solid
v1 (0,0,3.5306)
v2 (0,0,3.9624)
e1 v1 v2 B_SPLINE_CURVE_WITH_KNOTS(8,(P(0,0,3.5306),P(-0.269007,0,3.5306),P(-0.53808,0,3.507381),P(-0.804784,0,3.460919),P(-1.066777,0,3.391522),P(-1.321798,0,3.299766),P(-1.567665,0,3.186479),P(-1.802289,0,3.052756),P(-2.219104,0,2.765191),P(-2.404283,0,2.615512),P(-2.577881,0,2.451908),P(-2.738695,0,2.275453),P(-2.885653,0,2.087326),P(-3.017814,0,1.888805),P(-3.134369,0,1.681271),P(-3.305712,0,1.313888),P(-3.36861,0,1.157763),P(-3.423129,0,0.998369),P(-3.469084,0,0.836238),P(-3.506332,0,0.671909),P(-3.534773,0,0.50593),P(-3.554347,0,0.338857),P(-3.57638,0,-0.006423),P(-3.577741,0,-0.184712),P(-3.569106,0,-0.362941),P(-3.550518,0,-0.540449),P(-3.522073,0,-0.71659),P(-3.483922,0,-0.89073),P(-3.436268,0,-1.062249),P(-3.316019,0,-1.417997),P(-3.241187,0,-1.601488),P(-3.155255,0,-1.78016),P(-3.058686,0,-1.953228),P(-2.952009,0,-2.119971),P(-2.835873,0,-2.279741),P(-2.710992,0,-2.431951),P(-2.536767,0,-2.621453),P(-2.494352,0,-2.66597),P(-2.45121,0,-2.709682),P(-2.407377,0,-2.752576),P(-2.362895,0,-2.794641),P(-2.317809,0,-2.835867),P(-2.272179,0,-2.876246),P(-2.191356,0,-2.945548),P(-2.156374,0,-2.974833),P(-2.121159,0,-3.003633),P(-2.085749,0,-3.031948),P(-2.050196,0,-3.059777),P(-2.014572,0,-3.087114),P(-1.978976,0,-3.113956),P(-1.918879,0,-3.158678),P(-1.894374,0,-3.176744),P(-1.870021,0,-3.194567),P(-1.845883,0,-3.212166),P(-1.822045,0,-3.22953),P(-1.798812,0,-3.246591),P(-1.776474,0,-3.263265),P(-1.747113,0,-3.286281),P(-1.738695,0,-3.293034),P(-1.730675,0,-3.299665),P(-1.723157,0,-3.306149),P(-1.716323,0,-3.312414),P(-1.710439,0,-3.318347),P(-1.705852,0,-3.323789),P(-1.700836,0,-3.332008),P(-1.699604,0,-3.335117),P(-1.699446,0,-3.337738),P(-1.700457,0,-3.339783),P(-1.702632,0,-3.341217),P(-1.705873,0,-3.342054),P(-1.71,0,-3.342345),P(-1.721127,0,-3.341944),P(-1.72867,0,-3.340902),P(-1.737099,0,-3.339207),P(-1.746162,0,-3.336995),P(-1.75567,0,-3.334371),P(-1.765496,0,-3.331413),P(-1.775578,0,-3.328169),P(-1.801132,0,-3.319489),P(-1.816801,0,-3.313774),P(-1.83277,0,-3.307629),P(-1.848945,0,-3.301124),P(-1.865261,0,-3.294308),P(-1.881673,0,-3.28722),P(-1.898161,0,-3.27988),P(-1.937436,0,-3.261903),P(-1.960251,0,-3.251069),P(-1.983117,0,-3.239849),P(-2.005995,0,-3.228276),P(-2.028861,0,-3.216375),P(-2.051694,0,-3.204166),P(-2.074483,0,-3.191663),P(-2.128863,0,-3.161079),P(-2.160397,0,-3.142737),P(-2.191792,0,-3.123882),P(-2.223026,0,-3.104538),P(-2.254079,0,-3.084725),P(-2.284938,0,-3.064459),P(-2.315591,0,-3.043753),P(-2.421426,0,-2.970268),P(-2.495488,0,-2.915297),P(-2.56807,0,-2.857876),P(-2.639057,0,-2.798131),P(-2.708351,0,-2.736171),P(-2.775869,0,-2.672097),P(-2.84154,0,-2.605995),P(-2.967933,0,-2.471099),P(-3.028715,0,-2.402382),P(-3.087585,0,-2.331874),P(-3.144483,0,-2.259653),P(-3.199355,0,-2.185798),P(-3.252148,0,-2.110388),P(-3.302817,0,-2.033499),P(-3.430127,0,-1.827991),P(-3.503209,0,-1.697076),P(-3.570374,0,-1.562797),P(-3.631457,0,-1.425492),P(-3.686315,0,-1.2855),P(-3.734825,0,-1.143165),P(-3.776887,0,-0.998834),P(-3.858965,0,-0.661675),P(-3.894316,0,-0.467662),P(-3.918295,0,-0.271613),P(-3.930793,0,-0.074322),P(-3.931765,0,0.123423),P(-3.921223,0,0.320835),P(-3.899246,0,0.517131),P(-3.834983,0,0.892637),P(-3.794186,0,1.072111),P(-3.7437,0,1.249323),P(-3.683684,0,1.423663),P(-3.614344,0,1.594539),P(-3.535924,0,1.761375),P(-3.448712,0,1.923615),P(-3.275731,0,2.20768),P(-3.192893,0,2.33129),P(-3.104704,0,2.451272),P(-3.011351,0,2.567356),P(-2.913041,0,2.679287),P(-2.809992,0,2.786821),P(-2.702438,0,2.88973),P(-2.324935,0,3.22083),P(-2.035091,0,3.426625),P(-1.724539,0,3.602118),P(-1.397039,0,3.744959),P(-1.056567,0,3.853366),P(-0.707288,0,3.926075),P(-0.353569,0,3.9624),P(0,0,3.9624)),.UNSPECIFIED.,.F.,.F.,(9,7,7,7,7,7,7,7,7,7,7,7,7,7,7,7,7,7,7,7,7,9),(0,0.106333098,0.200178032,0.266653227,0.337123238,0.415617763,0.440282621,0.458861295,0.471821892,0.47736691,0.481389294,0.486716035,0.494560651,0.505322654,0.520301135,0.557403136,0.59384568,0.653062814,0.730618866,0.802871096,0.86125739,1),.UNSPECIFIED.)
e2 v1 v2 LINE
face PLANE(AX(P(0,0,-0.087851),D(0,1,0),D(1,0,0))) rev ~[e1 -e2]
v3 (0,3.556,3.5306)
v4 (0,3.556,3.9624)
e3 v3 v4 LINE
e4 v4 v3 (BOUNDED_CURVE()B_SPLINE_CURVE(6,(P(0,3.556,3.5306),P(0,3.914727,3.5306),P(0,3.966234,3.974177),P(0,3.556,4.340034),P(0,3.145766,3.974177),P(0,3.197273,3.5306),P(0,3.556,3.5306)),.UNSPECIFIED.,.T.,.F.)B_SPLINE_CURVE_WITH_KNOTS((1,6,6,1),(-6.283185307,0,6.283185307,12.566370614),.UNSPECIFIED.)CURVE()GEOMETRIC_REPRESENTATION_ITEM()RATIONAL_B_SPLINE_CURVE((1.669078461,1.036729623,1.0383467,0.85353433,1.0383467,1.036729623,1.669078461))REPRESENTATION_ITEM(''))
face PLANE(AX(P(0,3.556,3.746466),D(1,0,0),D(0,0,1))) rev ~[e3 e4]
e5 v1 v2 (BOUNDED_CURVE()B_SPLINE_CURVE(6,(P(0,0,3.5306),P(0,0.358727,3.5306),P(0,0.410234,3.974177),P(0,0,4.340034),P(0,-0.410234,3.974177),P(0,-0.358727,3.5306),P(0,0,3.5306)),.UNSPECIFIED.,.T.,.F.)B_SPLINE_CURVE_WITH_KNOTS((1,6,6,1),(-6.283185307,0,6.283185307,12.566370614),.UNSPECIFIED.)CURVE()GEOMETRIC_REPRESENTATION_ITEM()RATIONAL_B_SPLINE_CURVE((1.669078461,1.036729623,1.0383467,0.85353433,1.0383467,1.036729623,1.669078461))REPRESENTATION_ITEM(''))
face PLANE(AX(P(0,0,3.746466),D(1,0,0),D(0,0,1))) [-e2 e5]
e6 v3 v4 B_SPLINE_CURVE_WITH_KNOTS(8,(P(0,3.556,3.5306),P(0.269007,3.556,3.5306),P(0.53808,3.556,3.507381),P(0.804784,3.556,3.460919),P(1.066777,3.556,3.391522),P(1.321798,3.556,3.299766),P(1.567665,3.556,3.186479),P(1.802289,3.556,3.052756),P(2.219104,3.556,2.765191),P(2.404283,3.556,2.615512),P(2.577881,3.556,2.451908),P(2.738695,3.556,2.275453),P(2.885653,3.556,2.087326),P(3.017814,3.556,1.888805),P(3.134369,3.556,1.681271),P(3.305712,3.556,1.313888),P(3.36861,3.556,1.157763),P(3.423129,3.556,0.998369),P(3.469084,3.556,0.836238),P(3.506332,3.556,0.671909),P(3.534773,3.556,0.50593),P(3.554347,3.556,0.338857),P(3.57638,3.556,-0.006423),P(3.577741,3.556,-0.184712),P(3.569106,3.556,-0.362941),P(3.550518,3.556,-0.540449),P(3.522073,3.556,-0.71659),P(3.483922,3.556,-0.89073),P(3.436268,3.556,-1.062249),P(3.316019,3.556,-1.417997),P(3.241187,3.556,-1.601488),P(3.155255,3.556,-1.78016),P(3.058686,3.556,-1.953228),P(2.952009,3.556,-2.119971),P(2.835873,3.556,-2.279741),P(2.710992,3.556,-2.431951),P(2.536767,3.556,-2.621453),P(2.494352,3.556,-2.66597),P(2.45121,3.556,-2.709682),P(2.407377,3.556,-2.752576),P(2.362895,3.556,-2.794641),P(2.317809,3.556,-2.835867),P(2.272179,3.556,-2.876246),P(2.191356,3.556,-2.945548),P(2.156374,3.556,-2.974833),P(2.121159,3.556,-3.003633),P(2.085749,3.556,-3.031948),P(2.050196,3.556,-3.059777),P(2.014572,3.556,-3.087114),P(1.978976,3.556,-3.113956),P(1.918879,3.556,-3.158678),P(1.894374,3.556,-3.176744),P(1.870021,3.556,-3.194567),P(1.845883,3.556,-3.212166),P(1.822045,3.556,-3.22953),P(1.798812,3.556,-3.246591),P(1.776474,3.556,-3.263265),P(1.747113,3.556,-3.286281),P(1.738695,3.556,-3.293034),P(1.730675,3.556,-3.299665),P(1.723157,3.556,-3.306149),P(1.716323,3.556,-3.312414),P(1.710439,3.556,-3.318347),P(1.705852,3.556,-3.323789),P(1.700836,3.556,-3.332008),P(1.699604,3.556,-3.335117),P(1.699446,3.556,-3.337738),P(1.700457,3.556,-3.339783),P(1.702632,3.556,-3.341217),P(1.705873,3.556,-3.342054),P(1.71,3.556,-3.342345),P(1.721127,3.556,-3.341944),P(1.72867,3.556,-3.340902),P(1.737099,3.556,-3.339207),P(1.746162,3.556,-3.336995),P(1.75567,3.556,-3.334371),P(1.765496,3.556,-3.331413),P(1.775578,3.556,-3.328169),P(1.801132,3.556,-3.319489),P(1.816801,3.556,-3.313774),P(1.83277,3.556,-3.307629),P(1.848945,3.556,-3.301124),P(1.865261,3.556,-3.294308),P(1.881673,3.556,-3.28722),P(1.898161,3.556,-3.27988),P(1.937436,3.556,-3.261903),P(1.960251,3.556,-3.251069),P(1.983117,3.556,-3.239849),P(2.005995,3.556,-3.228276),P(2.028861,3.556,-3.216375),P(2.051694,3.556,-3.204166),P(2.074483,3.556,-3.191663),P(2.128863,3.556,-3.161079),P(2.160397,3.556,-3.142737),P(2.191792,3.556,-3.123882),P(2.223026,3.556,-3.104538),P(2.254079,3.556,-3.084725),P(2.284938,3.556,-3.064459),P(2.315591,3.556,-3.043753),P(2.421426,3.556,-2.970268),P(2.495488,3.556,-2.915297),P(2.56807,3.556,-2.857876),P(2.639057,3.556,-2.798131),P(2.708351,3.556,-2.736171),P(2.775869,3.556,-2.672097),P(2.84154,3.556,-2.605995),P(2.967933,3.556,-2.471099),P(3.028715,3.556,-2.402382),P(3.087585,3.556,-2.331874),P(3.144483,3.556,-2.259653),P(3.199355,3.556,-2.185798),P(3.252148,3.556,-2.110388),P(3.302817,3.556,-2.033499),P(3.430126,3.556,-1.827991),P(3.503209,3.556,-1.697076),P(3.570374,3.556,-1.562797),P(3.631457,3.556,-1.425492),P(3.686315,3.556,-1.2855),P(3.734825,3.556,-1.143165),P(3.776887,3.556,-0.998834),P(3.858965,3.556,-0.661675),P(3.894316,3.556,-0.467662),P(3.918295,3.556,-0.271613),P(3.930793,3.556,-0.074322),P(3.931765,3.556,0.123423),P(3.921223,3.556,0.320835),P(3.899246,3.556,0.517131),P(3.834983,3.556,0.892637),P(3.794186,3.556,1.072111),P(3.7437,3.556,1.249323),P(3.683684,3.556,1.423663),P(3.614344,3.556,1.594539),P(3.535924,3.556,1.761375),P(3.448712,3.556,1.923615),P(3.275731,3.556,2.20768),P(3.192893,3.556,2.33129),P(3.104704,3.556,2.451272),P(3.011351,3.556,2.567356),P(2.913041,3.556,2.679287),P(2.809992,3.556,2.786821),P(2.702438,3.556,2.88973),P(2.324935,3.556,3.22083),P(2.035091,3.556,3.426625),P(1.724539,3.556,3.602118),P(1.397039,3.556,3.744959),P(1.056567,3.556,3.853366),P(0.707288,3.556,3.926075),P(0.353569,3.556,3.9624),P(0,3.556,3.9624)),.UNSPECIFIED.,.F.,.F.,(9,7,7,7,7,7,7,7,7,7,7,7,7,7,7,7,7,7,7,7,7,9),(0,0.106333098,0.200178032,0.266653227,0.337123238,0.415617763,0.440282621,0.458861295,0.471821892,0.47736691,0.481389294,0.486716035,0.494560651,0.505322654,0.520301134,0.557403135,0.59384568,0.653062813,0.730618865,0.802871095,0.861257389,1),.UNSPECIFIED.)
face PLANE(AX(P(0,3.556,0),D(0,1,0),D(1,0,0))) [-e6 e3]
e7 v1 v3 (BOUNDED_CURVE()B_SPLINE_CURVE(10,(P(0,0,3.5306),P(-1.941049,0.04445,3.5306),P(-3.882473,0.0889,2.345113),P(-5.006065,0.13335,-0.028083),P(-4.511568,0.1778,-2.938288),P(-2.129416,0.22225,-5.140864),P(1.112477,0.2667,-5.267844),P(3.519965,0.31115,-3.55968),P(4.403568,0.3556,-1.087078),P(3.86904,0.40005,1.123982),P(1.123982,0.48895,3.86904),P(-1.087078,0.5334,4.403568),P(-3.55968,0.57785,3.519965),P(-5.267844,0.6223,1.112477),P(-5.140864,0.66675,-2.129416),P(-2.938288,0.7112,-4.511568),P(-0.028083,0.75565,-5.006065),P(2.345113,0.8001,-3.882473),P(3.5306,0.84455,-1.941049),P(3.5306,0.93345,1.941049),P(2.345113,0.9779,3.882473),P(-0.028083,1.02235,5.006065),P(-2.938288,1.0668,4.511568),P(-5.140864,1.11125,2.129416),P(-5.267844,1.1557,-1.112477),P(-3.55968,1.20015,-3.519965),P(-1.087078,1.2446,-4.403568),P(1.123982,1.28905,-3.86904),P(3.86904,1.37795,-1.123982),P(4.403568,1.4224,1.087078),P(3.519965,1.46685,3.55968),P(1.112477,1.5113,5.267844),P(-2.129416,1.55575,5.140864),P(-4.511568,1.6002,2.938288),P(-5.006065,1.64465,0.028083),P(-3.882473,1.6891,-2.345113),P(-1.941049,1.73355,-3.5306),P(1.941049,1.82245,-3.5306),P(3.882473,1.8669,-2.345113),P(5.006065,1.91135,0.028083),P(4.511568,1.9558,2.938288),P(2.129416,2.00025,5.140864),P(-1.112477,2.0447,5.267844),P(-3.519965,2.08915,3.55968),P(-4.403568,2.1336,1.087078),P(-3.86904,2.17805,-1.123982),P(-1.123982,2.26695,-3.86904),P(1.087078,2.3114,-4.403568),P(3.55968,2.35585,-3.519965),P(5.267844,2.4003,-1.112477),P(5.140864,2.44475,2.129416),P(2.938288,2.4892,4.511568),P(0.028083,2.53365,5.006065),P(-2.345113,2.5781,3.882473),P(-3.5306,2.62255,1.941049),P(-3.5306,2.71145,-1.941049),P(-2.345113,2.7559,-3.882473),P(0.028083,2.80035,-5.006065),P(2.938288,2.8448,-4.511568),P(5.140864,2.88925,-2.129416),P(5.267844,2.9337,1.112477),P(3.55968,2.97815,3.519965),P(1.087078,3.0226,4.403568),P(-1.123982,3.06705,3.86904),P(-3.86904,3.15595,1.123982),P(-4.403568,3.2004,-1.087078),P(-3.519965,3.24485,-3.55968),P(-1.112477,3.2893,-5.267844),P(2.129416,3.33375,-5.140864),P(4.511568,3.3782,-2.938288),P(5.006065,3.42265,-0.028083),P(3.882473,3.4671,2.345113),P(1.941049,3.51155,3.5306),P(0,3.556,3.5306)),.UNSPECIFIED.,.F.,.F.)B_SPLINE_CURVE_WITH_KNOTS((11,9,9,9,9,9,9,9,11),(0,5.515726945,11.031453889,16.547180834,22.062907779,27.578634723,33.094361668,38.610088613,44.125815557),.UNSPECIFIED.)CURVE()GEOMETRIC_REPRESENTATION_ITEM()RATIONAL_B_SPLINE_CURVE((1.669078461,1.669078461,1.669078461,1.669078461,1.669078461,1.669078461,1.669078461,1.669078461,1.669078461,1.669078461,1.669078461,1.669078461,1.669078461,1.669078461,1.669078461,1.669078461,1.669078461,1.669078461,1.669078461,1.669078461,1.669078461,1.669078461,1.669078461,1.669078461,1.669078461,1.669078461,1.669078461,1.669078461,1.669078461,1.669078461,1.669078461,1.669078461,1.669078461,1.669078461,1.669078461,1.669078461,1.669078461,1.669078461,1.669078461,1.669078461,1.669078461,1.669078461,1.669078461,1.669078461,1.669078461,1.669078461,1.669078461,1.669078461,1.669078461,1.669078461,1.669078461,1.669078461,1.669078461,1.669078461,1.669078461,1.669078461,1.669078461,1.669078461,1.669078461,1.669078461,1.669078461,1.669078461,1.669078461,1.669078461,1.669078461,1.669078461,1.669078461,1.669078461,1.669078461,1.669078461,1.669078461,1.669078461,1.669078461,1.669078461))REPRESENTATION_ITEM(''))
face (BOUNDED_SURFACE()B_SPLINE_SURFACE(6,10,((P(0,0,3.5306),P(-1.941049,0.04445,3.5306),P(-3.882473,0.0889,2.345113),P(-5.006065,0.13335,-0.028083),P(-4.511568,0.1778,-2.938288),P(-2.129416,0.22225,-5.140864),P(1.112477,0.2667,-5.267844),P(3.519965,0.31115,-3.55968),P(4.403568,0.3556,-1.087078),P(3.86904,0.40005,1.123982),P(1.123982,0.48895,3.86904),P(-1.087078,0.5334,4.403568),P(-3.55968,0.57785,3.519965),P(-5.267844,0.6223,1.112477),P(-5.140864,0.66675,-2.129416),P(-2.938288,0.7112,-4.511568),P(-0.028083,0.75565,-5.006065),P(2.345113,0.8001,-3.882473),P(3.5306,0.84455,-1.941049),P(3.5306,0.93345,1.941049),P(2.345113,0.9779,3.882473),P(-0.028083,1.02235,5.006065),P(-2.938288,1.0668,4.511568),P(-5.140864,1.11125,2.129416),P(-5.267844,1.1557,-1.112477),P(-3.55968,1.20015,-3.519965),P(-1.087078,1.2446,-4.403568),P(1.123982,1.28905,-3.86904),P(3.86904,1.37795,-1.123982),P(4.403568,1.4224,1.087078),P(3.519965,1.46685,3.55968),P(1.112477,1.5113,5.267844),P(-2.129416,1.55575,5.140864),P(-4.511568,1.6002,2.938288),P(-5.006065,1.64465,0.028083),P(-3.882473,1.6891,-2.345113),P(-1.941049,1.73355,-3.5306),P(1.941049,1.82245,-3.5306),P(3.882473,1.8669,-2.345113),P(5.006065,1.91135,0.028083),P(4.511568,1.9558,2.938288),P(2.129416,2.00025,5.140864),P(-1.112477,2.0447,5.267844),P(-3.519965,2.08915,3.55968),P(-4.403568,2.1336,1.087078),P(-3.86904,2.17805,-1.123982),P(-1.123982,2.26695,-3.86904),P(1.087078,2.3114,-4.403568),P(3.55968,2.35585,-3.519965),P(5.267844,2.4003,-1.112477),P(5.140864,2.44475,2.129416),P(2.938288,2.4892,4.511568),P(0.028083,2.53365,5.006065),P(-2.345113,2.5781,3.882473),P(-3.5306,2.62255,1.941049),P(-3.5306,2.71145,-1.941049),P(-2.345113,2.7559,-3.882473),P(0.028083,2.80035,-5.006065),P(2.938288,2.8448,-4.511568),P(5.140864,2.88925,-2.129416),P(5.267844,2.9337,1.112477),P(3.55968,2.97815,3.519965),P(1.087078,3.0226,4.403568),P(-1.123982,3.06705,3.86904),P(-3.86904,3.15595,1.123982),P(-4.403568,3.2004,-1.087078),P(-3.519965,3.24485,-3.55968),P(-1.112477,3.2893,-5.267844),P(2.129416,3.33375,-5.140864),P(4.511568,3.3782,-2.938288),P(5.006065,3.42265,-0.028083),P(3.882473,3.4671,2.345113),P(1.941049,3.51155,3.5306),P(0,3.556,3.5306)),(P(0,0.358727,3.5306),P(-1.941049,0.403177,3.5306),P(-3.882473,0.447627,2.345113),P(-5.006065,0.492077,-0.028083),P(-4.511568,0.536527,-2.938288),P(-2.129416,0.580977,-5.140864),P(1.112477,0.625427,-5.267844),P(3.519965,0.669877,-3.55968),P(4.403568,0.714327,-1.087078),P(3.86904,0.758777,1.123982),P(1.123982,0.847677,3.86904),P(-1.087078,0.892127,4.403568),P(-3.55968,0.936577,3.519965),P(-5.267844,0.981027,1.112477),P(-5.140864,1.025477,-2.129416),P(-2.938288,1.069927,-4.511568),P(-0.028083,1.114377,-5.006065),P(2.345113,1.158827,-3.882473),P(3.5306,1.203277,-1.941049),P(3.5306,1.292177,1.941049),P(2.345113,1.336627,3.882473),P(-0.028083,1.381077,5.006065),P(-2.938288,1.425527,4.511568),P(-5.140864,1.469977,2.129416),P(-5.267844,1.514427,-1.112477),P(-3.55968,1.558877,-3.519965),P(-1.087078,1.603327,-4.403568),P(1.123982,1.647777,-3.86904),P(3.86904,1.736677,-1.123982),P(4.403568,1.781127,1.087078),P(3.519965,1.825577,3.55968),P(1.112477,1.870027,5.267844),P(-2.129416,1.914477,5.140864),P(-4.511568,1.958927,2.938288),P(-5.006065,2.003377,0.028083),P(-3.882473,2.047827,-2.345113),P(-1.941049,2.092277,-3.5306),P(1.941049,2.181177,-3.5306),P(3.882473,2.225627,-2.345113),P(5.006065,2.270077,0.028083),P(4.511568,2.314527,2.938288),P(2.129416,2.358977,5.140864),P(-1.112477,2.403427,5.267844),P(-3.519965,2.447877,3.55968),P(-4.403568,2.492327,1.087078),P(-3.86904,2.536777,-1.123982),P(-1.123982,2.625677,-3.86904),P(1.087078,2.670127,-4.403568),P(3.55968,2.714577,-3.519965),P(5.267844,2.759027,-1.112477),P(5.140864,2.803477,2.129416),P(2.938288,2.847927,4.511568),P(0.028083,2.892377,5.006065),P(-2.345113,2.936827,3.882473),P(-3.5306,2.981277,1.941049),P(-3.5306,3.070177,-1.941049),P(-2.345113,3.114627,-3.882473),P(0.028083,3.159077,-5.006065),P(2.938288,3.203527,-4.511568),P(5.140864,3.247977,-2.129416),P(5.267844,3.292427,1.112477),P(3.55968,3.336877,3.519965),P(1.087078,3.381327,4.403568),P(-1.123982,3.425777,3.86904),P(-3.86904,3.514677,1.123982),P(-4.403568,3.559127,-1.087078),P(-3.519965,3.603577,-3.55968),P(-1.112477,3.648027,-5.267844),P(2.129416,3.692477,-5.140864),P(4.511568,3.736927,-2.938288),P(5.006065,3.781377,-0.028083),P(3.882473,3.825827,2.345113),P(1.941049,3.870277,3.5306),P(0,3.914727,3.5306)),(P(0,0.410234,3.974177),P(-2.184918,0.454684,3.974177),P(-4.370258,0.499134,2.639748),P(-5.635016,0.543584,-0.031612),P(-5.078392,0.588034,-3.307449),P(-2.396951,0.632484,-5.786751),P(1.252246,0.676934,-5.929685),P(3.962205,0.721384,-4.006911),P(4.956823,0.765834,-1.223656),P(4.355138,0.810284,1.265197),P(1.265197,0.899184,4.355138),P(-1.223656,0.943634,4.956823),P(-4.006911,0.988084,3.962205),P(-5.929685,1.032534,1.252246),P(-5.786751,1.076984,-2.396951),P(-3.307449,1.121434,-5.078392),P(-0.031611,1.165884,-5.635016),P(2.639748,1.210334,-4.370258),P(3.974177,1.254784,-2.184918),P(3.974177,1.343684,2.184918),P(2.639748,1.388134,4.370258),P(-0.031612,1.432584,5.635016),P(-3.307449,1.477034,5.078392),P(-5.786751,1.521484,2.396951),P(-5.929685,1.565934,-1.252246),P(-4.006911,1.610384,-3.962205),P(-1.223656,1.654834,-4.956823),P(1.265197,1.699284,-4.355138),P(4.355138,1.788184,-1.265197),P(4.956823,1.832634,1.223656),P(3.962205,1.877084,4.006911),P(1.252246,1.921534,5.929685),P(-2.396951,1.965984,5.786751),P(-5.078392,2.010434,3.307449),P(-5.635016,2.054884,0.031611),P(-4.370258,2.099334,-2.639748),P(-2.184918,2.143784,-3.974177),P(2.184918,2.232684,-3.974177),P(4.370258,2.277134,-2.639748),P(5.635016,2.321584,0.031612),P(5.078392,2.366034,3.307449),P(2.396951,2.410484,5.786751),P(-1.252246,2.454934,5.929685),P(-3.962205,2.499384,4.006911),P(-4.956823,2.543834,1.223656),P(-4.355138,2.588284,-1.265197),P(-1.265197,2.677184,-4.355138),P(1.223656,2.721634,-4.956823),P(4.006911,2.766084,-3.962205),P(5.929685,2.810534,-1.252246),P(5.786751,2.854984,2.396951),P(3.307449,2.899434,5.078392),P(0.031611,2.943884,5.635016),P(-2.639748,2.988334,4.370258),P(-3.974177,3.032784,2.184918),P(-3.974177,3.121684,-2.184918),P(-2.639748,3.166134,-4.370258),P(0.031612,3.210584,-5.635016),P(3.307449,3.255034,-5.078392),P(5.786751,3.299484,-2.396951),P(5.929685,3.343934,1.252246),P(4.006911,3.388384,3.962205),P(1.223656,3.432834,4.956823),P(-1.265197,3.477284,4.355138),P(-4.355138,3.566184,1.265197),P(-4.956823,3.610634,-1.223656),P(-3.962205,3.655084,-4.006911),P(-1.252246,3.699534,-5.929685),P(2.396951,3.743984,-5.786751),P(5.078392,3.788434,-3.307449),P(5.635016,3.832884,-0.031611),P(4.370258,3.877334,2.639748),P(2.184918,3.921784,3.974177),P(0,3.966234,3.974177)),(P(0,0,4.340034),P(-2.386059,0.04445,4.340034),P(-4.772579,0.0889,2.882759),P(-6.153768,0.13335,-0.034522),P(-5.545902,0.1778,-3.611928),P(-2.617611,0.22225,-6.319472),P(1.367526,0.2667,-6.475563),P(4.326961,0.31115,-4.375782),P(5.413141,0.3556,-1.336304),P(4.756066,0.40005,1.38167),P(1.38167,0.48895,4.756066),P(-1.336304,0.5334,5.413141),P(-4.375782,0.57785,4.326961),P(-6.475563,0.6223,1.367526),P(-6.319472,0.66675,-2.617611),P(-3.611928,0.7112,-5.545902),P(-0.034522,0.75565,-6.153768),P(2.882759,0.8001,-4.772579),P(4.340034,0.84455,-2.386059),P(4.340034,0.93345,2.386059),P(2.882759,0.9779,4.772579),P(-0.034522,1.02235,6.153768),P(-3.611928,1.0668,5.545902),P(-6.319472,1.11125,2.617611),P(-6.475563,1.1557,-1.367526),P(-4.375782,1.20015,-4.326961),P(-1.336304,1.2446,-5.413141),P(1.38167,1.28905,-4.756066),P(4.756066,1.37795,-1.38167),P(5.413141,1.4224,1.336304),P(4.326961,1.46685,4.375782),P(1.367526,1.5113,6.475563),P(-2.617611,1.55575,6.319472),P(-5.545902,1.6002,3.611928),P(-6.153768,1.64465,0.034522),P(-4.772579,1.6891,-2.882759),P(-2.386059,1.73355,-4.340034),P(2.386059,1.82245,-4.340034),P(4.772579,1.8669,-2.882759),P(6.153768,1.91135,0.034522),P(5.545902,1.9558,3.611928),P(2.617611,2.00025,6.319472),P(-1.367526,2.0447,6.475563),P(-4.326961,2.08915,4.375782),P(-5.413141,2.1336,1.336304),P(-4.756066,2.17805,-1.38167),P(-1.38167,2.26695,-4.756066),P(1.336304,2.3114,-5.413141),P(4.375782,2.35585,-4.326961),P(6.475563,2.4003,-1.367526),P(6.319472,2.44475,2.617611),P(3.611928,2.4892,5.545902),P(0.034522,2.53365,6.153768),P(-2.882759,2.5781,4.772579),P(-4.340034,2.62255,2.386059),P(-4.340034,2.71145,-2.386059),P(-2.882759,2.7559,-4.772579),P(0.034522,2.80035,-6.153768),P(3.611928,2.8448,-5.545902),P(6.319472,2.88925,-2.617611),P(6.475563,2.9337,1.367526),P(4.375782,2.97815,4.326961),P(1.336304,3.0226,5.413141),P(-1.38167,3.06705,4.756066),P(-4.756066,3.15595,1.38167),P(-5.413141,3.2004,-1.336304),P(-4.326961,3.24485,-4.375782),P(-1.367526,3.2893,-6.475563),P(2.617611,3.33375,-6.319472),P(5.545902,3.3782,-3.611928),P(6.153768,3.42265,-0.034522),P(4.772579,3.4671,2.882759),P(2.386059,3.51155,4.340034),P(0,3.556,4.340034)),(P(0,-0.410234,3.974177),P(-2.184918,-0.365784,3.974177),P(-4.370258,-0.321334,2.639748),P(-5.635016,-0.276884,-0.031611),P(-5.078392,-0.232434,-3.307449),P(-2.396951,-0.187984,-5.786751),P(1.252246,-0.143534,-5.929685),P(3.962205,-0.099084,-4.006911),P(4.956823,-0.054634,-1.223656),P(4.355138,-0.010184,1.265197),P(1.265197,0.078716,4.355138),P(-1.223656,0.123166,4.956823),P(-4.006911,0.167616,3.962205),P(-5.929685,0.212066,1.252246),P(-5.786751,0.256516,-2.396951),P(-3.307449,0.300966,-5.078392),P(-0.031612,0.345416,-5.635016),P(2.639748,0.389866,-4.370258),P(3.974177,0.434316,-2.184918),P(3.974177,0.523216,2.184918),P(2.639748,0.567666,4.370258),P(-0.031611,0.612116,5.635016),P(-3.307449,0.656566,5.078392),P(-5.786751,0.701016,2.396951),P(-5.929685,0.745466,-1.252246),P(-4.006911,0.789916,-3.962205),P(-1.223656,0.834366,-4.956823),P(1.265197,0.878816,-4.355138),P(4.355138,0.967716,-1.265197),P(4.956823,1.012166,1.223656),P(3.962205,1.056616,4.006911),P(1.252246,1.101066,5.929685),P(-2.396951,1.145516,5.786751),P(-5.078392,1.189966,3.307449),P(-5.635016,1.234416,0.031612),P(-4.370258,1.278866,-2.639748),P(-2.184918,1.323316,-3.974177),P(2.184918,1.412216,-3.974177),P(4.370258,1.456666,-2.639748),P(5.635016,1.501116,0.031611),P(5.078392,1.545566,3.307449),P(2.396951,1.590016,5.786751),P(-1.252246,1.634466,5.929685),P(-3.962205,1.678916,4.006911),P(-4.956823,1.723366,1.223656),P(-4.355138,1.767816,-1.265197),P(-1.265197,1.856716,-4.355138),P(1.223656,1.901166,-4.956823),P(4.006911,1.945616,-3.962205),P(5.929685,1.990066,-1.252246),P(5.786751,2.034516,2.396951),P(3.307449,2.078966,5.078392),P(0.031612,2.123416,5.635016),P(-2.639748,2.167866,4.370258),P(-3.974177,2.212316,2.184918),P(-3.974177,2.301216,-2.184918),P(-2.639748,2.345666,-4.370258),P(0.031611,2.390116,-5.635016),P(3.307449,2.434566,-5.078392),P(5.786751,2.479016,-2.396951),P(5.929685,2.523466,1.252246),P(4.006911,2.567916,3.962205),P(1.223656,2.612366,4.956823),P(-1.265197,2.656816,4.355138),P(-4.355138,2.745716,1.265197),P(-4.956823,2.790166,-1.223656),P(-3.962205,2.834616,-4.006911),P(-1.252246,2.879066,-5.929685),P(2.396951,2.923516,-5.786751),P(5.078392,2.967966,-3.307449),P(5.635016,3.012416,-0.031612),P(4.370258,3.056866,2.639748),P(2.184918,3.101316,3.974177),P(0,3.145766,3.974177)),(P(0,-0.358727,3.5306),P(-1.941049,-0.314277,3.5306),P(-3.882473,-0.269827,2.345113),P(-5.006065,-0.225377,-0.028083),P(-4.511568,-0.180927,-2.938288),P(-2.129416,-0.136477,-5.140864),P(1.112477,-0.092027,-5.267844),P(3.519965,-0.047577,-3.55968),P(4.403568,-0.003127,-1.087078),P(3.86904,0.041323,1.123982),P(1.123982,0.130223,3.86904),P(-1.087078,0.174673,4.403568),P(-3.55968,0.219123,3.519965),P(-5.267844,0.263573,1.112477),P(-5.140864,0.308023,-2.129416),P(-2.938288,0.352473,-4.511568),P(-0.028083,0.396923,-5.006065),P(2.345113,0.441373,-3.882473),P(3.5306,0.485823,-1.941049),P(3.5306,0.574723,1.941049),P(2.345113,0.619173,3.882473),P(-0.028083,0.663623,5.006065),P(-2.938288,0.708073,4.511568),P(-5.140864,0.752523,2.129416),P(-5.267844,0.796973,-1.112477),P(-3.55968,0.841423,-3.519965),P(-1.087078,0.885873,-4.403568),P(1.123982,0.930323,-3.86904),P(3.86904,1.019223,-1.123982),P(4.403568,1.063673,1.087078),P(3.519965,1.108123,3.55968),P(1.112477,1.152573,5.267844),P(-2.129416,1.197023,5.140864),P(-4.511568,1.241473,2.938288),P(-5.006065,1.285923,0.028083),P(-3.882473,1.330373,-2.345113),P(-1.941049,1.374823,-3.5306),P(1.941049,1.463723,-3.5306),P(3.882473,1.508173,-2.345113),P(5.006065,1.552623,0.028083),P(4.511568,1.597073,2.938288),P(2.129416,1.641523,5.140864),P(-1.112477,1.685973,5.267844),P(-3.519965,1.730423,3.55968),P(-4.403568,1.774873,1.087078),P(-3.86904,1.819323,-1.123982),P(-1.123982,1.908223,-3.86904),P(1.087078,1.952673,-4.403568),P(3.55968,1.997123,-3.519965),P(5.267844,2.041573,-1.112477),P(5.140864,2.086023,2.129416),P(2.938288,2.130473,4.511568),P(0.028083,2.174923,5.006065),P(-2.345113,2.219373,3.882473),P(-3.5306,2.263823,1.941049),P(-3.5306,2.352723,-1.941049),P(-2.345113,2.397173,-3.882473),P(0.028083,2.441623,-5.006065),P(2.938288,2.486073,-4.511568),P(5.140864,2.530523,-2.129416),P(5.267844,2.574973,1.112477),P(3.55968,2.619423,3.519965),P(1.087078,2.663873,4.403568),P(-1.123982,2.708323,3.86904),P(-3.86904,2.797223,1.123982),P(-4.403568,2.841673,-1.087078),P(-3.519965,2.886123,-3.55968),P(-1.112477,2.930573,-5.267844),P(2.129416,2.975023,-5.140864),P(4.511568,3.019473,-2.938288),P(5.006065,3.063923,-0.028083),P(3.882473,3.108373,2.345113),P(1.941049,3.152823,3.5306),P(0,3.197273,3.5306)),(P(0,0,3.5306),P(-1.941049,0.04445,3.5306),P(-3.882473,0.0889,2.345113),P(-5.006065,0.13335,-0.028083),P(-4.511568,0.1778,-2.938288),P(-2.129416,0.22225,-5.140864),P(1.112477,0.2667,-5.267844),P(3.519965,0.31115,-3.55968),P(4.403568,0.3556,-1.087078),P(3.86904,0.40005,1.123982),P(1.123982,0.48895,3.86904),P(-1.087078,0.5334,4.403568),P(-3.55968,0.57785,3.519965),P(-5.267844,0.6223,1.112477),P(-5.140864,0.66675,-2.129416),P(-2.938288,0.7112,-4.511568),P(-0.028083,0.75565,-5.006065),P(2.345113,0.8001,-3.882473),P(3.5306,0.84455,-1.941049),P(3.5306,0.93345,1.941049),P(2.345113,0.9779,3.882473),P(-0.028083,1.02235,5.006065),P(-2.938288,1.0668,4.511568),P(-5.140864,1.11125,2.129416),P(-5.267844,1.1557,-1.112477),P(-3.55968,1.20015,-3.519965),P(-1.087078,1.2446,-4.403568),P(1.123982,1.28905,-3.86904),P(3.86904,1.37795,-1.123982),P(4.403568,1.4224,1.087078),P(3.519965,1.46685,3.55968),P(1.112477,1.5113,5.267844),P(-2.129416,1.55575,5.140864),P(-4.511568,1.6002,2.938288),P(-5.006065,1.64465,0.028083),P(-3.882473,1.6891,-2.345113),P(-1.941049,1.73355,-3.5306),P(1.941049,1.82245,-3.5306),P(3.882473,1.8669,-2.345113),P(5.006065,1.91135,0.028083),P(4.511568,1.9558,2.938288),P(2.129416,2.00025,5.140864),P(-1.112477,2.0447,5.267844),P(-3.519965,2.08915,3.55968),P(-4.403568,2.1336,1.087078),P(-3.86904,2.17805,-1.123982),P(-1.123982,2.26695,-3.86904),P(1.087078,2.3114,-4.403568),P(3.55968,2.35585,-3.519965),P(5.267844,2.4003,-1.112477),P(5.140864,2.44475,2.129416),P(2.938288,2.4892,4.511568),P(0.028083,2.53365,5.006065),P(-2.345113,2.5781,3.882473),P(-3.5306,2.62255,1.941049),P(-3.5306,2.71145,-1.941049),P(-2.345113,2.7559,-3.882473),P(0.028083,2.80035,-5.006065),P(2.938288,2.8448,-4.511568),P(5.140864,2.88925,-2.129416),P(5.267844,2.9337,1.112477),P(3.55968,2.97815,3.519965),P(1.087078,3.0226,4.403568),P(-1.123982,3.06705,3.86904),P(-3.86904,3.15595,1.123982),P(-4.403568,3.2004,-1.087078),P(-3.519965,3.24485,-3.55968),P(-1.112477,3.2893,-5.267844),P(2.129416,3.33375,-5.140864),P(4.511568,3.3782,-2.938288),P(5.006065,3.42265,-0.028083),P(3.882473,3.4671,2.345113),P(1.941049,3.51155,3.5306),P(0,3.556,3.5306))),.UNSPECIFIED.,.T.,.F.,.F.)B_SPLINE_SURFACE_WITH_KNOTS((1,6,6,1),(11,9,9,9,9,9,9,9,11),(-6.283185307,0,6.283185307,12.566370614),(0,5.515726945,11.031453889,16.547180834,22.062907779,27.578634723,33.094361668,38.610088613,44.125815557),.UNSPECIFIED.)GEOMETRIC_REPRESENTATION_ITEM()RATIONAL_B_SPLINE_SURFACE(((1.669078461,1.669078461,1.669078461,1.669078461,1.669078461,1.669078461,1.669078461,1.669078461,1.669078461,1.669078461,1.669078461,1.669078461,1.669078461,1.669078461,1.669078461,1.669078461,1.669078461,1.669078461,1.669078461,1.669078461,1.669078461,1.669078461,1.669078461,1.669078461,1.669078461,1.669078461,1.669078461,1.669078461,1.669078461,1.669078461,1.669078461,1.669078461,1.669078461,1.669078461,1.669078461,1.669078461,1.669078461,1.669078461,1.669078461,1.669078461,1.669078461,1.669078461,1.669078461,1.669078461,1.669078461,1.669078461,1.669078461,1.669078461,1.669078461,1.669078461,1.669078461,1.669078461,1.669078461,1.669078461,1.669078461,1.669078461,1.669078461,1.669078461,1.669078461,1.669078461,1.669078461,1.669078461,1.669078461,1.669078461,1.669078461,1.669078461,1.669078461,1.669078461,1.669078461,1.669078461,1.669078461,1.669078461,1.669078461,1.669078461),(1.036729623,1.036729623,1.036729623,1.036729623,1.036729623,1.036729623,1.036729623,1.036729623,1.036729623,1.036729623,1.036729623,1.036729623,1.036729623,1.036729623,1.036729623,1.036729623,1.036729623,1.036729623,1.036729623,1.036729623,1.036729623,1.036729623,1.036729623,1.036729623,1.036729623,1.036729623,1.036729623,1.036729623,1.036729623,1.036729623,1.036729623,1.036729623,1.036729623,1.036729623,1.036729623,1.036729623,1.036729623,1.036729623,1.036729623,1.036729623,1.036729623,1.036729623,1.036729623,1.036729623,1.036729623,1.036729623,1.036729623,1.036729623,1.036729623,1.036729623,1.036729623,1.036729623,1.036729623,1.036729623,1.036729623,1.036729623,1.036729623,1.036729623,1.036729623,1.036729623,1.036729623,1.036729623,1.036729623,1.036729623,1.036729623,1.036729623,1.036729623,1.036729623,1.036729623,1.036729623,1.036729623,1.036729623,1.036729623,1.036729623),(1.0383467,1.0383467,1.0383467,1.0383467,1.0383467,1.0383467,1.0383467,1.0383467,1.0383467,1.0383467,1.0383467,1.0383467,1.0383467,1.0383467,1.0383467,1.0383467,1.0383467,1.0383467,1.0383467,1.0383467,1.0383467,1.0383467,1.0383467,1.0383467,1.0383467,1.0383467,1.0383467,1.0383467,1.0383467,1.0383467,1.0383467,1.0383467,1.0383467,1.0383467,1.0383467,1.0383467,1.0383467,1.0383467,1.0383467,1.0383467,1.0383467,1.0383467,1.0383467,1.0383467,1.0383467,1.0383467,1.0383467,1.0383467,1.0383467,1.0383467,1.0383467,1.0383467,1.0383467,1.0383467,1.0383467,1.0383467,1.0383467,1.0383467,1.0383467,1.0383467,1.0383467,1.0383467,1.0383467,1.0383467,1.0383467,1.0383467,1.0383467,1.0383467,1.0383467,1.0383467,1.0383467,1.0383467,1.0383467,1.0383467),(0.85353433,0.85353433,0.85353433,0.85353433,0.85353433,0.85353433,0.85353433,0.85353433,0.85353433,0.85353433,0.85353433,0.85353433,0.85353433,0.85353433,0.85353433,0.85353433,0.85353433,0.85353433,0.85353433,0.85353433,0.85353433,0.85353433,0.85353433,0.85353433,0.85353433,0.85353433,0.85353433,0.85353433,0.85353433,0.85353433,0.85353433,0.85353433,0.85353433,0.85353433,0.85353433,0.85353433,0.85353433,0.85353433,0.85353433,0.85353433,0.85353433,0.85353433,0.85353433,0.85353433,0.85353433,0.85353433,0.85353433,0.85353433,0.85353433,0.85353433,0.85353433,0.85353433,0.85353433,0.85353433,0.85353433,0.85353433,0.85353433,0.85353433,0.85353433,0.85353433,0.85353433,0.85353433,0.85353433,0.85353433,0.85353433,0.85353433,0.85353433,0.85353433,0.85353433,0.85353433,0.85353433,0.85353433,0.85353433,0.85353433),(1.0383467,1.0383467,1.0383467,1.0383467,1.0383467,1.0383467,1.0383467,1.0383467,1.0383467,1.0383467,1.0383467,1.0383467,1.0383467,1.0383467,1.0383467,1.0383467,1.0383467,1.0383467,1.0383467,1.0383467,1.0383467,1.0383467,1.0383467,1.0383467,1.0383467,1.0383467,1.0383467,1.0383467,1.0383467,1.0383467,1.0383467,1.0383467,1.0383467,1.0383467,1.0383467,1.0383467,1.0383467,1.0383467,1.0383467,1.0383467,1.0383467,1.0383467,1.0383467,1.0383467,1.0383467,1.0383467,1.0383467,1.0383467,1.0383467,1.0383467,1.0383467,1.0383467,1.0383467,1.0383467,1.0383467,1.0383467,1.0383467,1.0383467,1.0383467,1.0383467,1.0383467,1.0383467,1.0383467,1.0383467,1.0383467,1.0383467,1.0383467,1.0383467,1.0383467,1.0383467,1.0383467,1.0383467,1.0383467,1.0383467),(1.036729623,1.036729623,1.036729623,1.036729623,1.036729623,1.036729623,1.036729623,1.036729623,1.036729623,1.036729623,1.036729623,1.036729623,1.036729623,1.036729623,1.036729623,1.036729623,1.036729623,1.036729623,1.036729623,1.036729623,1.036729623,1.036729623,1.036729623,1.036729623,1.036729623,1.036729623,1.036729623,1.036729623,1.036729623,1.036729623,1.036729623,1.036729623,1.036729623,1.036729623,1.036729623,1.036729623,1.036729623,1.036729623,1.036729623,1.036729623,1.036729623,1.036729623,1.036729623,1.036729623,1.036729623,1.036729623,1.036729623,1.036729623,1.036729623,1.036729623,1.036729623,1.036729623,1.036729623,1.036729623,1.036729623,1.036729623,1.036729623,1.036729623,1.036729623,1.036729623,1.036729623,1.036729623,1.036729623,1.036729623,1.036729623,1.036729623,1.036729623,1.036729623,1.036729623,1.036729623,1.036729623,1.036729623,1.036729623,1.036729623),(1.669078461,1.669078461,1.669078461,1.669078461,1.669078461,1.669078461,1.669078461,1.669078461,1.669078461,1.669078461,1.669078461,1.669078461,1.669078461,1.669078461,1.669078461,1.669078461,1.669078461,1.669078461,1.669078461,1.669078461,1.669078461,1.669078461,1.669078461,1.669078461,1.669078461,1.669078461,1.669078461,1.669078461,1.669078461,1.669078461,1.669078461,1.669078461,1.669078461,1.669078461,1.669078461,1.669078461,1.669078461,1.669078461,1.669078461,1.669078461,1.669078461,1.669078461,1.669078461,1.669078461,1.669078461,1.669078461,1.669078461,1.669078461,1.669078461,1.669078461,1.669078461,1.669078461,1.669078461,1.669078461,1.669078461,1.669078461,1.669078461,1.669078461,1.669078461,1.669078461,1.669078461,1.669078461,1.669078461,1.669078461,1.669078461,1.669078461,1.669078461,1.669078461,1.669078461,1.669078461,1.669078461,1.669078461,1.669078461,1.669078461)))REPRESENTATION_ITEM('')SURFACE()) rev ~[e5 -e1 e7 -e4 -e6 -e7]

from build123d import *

# Parameters (mm, degrees)
SWEEP1_PITCH       = 0.508
SWEEP1_HEIGHT      = 3.556
SWEEP1_RADIUS      = 3.7465
SKETCH2_R          = 0.2159
SKETCH9_R          = 5.687680275
CUT_EXTRUDE1_DEPTH = 2.54
SKETCH10_R         = 5.083589078
CUT_EXTRUDE2_DEPTH = 2.54


with BuildPart() as part:
    # Sweep1: sweep along a helix
    with BuildLine() as sweep1_path:
        Helix(SWEEP1_PITCH, SWEEP1_HEIGHT, SWEEP1_RADIUS, center=(0, 0, 0), direction=(0, 1, 0), lefthand=True)
    # Sketch2 → Sweep1 (sweep)
    with BuildSketch(Plane(origin=(0, 0, 0), x_dir=(0, 0, -1), z_dir=(1, 0, 0))):
        with Locations((-3.7465, 0)):
            Circle(SKETCH2_R)
    sweep(path=sweep1_path.line, is_frenet=True)

    # Sketch9 → Cut-Extrude1 (cut)
    with BuildSketch(Plane(origin=(0, 0, 0), x_dir=(1, 0, 0), z_dir=(0, 1, 0))):
        with Locations((0, 0.087851476)):
            Circle(SKETCH9_R)
    extrude(amount=-CUT_EXTRUDE1_DEPTH, mode=Mode.SUBTRACT)

    # Sketch10 → Cut-Extrude2 (cut)
    with BuildSketch(Plane(origin=(0, 3.556, 0), x_dir=(1, 0, 0), z_dir=(0, 1, 0))):
        Circle(SKETCH10_R)
    extrude(amount=CUT_EXTRUDE2_DEPTH, mode=Mode.SUBTRACT)


solid = part.part
